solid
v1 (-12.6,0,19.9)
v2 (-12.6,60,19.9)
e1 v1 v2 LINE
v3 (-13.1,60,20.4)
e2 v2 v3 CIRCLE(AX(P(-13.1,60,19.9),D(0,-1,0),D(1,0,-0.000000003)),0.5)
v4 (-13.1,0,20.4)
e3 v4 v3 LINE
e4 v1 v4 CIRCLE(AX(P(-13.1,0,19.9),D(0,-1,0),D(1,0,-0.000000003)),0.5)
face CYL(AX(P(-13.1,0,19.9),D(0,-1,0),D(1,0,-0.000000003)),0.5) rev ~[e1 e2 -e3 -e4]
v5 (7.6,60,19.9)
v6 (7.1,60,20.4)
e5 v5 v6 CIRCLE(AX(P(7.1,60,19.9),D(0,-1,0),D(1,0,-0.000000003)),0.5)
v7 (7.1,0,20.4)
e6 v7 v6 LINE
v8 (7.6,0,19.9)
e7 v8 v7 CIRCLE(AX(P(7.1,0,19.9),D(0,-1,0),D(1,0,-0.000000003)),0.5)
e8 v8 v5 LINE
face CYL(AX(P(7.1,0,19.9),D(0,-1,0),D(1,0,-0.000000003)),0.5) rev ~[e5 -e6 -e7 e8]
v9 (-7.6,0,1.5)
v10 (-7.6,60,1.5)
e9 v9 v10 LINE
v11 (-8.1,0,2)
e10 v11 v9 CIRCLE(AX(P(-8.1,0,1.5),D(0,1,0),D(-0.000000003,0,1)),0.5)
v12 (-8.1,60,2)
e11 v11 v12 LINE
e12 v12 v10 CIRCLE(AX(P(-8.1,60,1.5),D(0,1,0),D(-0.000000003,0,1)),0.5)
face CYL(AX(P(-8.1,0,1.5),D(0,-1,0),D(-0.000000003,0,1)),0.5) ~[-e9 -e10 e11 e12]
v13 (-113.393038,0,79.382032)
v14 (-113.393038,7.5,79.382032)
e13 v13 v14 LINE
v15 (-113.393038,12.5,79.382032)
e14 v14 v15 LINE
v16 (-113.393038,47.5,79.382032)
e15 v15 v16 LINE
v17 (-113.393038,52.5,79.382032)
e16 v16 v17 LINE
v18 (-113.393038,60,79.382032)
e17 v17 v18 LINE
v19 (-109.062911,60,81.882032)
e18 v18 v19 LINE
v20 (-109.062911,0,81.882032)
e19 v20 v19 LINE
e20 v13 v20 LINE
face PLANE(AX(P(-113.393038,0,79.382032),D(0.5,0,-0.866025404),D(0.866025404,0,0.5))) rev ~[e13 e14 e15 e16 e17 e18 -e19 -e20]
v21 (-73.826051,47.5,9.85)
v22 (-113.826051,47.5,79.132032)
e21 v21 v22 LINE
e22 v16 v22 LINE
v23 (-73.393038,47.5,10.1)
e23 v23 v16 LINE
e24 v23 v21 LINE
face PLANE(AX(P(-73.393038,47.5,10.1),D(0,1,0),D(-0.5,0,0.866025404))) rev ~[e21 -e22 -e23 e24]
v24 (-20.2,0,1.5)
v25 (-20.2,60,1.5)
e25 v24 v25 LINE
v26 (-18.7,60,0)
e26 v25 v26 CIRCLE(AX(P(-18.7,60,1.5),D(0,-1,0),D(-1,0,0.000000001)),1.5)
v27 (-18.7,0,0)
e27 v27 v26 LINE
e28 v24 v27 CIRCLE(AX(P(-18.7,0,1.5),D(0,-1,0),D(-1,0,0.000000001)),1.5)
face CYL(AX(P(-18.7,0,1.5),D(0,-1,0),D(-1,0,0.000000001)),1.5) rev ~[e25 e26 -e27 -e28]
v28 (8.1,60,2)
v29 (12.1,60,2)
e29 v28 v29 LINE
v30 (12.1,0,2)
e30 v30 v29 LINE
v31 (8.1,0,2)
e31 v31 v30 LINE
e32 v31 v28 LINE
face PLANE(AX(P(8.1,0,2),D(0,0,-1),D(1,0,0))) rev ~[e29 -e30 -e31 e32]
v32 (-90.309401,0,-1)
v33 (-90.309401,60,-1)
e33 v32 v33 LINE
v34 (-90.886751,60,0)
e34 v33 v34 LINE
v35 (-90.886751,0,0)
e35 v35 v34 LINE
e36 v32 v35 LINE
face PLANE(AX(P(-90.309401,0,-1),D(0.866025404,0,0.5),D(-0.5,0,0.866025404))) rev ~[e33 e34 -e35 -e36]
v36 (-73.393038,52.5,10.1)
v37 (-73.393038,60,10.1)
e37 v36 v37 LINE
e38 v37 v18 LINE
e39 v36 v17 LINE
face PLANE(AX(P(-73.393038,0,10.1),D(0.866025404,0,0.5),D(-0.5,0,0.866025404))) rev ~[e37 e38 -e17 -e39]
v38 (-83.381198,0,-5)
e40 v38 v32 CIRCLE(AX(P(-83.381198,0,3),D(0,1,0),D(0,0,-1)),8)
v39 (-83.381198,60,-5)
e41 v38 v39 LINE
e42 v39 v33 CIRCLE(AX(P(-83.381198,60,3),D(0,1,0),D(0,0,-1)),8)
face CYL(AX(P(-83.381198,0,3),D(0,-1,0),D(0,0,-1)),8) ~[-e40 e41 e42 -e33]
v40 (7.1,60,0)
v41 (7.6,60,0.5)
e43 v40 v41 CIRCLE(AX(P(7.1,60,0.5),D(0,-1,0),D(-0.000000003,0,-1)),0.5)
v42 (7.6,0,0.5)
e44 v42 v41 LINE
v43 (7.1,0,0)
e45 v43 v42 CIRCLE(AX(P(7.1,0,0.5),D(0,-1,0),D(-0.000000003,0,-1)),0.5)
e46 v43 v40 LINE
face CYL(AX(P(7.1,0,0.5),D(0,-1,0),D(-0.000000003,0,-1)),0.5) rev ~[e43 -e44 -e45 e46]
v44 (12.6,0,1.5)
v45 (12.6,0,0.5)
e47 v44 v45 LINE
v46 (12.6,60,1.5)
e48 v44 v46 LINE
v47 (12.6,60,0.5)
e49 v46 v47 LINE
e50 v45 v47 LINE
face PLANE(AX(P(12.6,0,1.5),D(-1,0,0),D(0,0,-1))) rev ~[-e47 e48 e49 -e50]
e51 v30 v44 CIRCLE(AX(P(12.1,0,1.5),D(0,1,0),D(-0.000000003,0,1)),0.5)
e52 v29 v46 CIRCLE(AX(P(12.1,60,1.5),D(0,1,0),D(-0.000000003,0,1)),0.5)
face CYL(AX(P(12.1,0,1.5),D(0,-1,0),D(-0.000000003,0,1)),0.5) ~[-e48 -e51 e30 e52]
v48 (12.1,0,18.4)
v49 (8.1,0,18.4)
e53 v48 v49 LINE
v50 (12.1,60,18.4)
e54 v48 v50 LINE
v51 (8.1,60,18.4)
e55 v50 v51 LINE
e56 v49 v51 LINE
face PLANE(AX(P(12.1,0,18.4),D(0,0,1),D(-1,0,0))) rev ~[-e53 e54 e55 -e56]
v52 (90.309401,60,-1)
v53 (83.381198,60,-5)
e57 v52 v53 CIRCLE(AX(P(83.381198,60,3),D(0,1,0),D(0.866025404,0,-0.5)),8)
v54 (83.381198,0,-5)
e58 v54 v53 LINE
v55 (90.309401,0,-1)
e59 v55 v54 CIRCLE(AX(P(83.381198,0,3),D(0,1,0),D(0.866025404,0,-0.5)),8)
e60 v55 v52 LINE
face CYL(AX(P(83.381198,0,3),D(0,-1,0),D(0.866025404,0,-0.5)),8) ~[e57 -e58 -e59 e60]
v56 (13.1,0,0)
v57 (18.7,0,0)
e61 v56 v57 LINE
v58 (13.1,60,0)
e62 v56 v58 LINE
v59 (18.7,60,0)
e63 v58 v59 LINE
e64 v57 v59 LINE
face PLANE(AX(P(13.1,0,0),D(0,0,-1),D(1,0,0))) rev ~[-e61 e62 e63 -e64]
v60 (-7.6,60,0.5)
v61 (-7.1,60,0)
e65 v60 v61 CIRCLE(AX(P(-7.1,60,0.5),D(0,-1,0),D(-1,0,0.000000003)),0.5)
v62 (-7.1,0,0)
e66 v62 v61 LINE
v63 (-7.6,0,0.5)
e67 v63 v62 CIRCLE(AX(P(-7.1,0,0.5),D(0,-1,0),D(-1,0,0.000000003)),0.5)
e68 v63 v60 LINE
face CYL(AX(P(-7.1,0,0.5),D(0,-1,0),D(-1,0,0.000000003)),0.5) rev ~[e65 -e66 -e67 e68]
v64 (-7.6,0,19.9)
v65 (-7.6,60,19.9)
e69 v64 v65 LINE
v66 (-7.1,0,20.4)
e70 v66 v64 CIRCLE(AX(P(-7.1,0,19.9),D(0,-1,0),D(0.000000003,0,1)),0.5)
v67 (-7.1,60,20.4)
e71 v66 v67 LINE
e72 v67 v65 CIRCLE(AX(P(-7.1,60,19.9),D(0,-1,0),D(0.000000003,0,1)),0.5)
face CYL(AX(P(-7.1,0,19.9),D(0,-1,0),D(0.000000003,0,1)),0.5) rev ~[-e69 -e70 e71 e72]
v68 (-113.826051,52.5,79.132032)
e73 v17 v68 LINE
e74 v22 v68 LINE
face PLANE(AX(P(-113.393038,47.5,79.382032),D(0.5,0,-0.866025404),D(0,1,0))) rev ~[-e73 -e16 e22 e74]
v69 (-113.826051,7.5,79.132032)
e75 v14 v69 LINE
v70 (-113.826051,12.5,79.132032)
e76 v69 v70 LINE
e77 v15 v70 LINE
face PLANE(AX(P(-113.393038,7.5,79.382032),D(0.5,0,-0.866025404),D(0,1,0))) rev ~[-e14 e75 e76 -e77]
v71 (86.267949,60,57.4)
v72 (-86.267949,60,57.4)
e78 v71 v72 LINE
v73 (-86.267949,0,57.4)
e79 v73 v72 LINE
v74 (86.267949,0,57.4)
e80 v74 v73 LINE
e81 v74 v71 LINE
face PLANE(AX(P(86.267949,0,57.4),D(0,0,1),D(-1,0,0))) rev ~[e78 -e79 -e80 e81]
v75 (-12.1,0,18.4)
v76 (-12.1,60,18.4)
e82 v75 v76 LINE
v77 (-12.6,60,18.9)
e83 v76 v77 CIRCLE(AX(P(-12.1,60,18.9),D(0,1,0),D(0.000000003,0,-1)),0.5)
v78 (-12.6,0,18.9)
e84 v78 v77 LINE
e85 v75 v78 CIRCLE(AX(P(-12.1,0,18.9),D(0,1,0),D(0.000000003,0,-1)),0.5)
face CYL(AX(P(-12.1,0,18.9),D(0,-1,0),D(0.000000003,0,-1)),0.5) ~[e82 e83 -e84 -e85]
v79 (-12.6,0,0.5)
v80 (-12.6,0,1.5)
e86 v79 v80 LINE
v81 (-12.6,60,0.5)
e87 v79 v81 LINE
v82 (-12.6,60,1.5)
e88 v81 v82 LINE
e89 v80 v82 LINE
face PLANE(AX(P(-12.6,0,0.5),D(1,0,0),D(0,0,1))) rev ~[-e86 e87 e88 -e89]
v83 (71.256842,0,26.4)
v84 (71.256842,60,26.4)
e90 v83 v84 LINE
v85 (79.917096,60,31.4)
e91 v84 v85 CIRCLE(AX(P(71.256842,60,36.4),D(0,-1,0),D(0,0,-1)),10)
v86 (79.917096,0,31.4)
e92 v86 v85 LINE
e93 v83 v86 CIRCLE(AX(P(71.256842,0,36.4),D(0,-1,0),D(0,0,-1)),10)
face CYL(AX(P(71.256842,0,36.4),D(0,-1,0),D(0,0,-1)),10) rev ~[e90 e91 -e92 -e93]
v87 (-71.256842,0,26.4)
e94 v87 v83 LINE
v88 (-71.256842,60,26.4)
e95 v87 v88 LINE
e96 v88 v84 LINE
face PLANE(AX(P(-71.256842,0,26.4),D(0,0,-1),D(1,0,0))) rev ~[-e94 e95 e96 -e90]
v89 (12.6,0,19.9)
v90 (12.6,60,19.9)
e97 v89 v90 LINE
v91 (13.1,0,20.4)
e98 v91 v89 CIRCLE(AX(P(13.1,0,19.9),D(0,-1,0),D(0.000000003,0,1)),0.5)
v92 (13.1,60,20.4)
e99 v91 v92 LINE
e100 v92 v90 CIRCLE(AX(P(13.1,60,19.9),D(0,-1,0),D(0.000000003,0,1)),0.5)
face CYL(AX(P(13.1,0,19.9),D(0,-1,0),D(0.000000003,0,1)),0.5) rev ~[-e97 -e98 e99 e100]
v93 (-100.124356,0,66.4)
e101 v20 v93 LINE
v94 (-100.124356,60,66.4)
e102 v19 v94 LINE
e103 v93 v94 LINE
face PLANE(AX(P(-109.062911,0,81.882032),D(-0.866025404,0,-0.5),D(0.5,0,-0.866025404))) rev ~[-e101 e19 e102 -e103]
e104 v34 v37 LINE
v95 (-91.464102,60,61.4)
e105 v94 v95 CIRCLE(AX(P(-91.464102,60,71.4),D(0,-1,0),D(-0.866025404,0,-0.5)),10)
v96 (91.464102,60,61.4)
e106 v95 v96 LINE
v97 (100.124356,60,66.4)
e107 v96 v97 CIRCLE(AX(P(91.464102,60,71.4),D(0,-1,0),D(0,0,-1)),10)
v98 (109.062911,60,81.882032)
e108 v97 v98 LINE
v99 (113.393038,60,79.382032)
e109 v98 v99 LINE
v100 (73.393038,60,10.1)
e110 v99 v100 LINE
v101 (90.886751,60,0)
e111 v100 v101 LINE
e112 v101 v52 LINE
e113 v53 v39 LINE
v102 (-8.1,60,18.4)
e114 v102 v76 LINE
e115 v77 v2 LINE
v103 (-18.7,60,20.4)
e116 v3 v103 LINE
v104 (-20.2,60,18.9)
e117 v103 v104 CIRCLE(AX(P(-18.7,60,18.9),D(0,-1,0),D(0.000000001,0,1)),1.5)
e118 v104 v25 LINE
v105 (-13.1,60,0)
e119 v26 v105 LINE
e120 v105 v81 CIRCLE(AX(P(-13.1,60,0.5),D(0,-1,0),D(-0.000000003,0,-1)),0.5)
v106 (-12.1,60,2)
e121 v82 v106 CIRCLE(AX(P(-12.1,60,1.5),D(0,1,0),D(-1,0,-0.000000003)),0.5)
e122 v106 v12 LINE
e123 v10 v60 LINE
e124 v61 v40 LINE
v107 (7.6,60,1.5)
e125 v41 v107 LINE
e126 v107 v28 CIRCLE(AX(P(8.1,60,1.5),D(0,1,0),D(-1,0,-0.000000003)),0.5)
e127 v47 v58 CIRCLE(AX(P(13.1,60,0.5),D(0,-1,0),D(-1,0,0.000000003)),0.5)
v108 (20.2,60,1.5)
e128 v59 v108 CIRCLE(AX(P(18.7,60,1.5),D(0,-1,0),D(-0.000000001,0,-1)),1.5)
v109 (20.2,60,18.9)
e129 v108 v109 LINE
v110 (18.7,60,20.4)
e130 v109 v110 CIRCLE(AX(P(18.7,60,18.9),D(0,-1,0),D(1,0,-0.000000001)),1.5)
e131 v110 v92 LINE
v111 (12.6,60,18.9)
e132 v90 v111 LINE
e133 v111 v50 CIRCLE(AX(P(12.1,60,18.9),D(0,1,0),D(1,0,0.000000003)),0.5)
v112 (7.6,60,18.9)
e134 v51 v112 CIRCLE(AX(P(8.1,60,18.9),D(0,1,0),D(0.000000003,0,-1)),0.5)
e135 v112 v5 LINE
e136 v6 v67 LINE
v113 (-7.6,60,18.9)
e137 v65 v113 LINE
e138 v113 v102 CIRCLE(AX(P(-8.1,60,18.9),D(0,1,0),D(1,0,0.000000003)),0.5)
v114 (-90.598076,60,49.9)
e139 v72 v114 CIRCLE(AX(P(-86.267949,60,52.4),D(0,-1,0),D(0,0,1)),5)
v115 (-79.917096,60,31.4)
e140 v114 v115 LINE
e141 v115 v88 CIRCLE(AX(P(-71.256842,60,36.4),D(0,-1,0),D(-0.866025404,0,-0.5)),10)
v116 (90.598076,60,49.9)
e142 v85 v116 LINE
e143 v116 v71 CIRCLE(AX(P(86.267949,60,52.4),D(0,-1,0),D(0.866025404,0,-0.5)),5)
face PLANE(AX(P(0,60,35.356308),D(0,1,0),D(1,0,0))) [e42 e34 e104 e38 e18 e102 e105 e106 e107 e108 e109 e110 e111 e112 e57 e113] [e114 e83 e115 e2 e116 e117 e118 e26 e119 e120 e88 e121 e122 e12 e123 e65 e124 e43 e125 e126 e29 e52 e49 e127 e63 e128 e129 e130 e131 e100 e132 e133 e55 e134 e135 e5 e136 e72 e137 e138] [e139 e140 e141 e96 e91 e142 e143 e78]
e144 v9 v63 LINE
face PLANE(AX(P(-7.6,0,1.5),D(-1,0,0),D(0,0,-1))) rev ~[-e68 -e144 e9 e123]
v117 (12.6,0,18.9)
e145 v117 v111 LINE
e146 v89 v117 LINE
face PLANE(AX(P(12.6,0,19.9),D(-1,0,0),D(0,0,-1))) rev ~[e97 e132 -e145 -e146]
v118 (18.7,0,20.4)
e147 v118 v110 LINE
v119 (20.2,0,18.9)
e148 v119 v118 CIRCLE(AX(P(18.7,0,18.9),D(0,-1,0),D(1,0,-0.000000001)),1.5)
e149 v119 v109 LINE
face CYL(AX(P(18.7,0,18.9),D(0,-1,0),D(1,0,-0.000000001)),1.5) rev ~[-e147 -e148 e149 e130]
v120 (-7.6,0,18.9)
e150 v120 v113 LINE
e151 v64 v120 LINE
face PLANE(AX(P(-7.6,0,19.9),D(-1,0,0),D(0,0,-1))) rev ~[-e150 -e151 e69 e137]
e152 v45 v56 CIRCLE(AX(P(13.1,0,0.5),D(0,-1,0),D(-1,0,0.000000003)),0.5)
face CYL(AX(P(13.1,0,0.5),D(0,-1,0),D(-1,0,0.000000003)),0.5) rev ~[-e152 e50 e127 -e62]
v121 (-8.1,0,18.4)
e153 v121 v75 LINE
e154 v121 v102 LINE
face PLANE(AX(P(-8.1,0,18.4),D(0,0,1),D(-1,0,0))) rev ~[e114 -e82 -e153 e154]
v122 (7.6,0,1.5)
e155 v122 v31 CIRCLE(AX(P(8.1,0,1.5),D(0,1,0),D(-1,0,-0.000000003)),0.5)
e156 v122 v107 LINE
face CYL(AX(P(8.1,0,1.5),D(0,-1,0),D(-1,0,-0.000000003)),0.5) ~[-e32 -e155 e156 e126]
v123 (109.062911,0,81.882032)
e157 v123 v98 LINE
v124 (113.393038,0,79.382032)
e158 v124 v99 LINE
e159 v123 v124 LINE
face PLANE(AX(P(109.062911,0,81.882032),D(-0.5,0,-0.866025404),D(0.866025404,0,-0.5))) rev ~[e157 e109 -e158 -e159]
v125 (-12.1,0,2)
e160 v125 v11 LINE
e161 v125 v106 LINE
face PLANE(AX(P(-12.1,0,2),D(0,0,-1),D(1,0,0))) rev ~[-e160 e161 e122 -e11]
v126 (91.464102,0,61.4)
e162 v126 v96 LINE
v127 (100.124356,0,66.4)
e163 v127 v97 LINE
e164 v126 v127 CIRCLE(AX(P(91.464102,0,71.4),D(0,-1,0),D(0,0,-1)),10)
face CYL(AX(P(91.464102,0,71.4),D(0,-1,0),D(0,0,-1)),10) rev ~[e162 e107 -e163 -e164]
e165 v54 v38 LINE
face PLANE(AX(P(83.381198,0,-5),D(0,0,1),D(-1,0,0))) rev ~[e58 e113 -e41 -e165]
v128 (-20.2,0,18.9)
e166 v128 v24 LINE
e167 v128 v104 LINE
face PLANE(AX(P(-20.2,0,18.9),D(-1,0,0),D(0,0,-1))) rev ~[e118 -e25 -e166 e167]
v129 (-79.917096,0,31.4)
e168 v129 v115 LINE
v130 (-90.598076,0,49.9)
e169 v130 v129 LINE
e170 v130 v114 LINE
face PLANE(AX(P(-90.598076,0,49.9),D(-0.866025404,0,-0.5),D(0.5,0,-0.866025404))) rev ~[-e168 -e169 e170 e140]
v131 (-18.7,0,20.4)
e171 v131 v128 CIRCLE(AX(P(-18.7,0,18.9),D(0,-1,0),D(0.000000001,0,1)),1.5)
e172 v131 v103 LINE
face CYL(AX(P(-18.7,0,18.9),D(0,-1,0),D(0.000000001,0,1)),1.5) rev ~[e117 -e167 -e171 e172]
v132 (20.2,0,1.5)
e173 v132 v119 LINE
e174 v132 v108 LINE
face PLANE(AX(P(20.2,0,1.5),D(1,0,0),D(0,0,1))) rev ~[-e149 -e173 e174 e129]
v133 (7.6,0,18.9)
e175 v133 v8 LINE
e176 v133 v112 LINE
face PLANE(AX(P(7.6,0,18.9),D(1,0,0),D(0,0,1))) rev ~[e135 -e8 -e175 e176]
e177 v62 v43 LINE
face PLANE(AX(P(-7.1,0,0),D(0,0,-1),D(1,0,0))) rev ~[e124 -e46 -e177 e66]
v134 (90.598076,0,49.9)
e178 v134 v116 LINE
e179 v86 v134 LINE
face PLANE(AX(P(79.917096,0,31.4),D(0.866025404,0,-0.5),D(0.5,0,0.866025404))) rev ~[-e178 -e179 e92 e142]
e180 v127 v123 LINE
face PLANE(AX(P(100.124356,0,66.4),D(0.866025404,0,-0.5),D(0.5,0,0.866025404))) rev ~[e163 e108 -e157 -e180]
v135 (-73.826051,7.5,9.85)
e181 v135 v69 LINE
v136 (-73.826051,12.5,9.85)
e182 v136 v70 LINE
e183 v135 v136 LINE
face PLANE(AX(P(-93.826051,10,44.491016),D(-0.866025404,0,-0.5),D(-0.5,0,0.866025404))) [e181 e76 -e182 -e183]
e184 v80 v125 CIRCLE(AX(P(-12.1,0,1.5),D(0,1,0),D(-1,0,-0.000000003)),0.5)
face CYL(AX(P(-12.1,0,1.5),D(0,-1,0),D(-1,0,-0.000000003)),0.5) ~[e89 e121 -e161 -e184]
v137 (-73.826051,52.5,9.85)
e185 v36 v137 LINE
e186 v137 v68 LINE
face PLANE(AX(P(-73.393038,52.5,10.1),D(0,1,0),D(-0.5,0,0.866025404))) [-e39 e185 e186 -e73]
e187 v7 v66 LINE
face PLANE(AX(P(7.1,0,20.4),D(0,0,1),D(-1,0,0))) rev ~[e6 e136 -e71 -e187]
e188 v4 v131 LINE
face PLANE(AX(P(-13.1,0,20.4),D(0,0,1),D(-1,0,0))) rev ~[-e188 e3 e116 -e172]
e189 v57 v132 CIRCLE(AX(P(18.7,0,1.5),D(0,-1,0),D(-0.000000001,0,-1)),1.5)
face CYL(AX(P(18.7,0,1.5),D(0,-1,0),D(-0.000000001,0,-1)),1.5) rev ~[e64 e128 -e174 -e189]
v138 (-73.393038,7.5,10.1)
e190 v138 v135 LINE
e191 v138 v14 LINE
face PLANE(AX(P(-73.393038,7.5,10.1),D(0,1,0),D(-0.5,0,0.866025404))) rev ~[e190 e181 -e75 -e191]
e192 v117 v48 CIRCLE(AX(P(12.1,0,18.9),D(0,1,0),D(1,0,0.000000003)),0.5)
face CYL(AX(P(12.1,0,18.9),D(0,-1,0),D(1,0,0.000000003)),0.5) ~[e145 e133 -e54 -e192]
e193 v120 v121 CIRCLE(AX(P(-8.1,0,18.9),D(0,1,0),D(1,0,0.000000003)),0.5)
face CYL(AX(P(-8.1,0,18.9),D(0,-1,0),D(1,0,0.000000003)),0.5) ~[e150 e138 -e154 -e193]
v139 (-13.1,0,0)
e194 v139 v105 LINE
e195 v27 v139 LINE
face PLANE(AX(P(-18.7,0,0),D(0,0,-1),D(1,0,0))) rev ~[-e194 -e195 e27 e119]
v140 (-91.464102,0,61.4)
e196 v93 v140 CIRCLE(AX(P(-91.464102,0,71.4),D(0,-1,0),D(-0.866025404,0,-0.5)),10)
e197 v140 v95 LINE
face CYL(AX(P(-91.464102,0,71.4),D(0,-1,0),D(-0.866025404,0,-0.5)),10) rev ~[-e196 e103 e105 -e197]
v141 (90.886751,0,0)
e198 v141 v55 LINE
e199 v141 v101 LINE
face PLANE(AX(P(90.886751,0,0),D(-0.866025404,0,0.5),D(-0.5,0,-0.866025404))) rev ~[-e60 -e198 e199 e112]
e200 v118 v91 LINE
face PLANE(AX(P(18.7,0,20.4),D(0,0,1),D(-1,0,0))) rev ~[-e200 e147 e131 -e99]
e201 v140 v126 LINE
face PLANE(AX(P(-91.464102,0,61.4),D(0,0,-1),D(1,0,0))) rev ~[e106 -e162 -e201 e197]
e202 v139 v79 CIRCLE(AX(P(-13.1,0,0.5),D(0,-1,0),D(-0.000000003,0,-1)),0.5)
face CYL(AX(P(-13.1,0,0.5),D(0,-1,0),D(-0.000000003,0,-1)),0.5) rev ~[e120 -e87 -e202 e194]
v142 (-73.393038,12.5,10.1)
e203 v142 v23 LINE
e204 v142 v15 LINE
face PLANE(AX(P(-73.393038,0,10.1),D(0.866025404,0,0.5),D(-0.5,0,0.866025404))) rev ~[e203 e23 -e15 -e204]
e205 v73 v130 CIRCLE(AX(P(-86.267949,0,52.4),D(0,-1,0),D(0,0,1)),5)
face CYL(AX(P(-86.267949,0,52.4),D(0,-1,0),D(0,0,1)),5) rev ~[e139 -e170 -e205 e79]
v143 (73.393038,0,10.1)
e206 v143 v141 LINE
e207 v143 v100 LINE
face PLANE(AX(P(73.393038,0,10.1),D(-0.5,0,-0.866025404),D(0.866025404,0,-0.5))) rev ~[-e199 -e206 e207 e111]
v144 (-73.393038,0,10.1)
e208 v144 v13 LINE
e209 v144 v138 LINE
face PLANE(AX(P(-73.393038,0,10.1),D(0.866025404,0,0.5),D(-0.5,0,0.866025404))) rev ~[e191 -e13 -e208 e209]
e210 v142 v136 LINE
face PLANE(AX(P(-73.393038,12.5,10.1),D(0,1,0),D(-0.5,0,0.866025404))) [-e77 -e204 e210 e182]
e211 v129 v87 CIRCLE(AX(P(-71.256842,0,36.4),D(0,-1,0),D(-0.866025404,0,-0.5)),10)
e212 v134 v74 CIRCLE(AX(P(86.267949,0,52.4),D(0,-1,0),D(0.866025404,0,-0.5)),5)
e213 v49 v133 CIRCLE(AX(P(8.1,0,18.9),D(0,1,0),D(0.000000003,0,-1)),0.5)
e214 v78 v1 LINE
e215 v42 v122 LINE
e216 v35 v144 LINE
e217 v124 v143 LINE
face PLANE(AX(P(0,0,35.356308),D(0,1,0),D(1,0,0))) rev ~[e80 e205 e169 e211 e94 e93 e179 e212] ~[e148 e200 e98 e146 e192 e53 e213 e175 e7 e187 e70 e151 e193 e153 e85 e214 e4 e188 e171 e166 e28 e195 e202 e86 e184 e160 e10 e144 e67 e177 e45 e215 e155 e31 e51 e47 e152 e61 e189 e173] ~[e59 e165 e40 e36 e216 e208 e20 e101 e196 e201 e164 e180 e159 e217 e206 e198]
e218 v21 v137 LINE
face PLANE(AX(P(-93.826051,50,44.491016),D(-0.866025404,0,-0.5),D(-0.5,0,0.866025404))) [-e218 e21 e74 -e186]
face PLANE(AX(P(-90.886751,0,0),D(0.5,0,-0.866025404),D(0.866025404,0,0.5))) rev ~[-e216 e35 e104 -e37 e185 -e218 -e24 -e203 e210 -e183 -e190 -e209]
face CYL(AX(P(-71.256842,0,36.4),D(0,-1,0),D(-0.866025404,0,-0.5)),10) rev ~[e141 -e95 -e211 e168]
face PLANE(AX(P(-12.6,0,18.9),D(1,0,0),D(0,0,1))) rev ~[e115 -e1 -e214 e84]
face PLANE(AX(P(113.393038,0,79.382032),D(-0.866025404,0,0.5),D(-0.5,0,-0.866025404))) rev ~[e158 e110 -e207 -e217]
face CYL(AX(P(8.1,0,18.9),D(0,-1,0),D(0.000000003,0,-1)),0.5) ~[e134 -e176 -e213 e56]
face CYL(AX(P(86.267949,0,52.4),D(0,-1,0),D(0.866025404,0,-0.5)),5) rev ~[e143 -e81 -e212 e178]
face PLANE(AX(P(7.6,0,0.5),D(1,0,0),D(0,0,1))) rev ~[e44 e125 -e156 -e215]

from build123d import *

# Parameters (mm, degrees)
BOSS_EXTRUDE3_DEPTH = 60
SKETCH6_W           = 80
SKETCH6_H           = 5
BOSS_EXTRUDE4_DEPTH = 0.5


with BuildPart() as part:
    # Sketch5 → Boss-Extrude3 (new body)
    with BuildSketch(Plane(origin=(0, 0, 0), x_dir=(1, 0, 0), z_dir=(0, 1, 0))):
        with BuildLine():
            Line((83.381197846, 5), (-83.381197846, 5))
            ThreePointArc((-83.381197846, 5), (-87.381197846, 3.92820323), (-90.309401077, 1))
            Line((-90.309401077, 1), (-90.886751346, 0))
            Line((-90.886751346, 0), (-73.39303819, -10.1))
            Line((-73.39303819, -10.1), (-113.39303819, -79.382032303))
            Line((-113.39303819, -79.382032303), (-109.062911171, -81.882032303))
            Line((-109.062911171, -81.882032303), (-100.124355653, -66.4))
            ThreePointArc((-100.124355653, -66.4), (-96.464101615, -62.739745962), (-91.464101615, -61.4))
            Line((-91.464101615, -61.4), (91.464101615, -61.4))
            ThreePointArc((91.464101615, -61.4), (96.464101615, -62.739745962), (100.124355653, -66.4))
            Line((100.124355653, -66.4), (109.062911171, -81.882032303))
            Line((109.062911171, -81.882032303), (113.39303819, -79.382032303))
            Line((113.39303819, -79.382032303), (73.39303819, -10.1))
            Line((73.39303819, -10.1), (90.886751346, 0))
            Line((90.886751346, 0), (90.309401077, 1))
            ThreePointArc((90.309401077, 1), (87.381197846, 3.92820323), (83.381197846, 5))
        make_face()
        with BuildLine():
            Line((7.1, -20.4), (-7.1, -20.4))
            ThreePointArc((-7.1, -20.4), (-7.453553391, -20.253553391), (-7.6, -19.9))
            Line((-7.6, -19.9), (-7.6, -18.9))
            ThreePointArc((-7.6, -18.9), (-7.746446609, -18.546446609), (-8.1, -18.4))
            Line((-8.1, -18.4), (-12.1, -18.4))
            ThreePointArc((-12.1, -18.4), (-12.453553391, -18.546446609), (-12.6, -18.9))
            Line((-12.6, -18.9), (-12.6, -19.9))
            ThreePointArc((-12.6, -19.9), (-12.746446609, -20.253553391), (-13.1, -20.4))
            Line((-13.1, -20.4), (-18.7, -20.4))
            ThreePointArc((-18.7, -20.4), (-19.760660172, -19.960660172), (-20.2, -18.9))
            Line((-20.2, -18.9), (-20.2, -1.5))
            ThreePointArc((-20.2, -1.5), (-19.760660172, -0.439339828), (-18.7, 0))
            Line((-18.7, 0), (-13.1, 0))
            ThreePointArc((-13.1, 0), (-12.746446609, -0.146446609), (-12.6, -0.5))
            Line((-12.6, -0.5), (-12.6, -1.5))
            ThreePointArc((-12.6, -1.5), (-12.453553391, -1.853553391), (-12.1, -2))
            Line((-12.1, -2), (-8.1, -2))
            ThreePointArc((-8.1, -2), (-7.746446609, -1.853553391), (-7.6, -1.5))
            Line((-7.6, -1.5), (-7.6, -0.5))
            ThreePointArc((-7.6, -0.5), (-7.453553391, -0.146446609), (-7.1, 0))
            Line((-7.1, 0), (7.1, 0))
            ThreePointArc((7.1, 0), (7.453553391, -0.146446609), (7.6, -0.5))
            Line((7.6, -0.5), (7.6, -1.5))
            ThreePointArc((7.6, -1.5), (7.746446609, -1.853553391), (8.1, -2))
            Line((8.1, -2), (12.1, -2))
            ThreePointArc((12.1, -2), (12.453553391, -1.853553391), (12.6, -1.5))
            Line((12.6, -1.5), (12.6, -0.5))
            ThreePointArc((12.6, -0.5), (12.746446609, -0.146446609), (13.1, 0))
            Line((13.1, 0), (18.7, 0))
            ThreePointArc((18.7, 0), (19.760660172, -0.439339828), (20.2, -1.5))
            Line((20.2, -1.5), (20.2, -18.9))
            ThreePointArc((20.2, -18.9), (19.760660172, -19.960660172), (18.7, -20.4))
            Line((18.7, -20.4), (13.1, -20.4))
            ThreePointArc((13.1, -20.4), (12.746446609, -20.253553391), (12.6, -19.9))
            Line((12.6, -19.9), (12.6, -18.9))
            ThreePointArc((12.6, -18.9), (12.453553391, -18.546446609), (12.1, -18.4))
            Line((12.1, -18.4), (8.1, -18.4))
            ThreePointArc((8.1, -18.4), (7.746446609, -18.546446609), (7.6, -18.9))
            Line((7.6, -18.9), (7.6, -19.9))
            ThreePointArc((7.6, -19.9), (7.453553391, -20.253553391), (7.1, -20.4))
        make_face(mode=Mode.SUBTRACT)
        with BuildLine():
            Line((-71.256842194, -26.4), (71.256842194, -26.4))
            ThreePointArc((71.256842194, -26.4), (76.256842194, -27.739745962), (79.917096231, -31.4))
            Line((79.917096231, -31.4), (90.598076211, -49.9))
            ThreePointArc((90.598076211, -49.9), (90.598076211, -54.9), (86.267949192, -57.4))
            Line((86.267949192, -57.4), (-86.267949192, -57.4))
            ThreePointArc((-86.267949192, -57.4), (-90.598076211, -54.9), (-90.598076211, -49.9))
            Line((-90.598076211, -49.9), (-79.917096231, -31.4))
            ThreePointArc((-79.917096231, -31.4), (-76.256842194, -27.739745962), (-71.256842194, -26.4))
        make_face(mode=Mode.SUBTRACT)
    extrude(amount=BOSS_EXTRUDE3_DEPTH)

    # Sketch6 → Boss-Extrude4 (add)
    with BuildSketch(Plane(origin=(-50.671350353, 0, -29.255117767), x_dir=(-0.5, 0, 0.866025404), z_dir=(-0.866025404, 0, -0.5))):
        with Locations((85.443375673, 50)):
            Rectangle(SKETCH6_W, SKETCH6_H)
        with Locations((85.443375673, 10)):
            Rectangle(SKETCH6_W, SKETCH6_H)
    extrude(amount=BOSS_EXTRUDE4_DEPTH)


solid = part.part
